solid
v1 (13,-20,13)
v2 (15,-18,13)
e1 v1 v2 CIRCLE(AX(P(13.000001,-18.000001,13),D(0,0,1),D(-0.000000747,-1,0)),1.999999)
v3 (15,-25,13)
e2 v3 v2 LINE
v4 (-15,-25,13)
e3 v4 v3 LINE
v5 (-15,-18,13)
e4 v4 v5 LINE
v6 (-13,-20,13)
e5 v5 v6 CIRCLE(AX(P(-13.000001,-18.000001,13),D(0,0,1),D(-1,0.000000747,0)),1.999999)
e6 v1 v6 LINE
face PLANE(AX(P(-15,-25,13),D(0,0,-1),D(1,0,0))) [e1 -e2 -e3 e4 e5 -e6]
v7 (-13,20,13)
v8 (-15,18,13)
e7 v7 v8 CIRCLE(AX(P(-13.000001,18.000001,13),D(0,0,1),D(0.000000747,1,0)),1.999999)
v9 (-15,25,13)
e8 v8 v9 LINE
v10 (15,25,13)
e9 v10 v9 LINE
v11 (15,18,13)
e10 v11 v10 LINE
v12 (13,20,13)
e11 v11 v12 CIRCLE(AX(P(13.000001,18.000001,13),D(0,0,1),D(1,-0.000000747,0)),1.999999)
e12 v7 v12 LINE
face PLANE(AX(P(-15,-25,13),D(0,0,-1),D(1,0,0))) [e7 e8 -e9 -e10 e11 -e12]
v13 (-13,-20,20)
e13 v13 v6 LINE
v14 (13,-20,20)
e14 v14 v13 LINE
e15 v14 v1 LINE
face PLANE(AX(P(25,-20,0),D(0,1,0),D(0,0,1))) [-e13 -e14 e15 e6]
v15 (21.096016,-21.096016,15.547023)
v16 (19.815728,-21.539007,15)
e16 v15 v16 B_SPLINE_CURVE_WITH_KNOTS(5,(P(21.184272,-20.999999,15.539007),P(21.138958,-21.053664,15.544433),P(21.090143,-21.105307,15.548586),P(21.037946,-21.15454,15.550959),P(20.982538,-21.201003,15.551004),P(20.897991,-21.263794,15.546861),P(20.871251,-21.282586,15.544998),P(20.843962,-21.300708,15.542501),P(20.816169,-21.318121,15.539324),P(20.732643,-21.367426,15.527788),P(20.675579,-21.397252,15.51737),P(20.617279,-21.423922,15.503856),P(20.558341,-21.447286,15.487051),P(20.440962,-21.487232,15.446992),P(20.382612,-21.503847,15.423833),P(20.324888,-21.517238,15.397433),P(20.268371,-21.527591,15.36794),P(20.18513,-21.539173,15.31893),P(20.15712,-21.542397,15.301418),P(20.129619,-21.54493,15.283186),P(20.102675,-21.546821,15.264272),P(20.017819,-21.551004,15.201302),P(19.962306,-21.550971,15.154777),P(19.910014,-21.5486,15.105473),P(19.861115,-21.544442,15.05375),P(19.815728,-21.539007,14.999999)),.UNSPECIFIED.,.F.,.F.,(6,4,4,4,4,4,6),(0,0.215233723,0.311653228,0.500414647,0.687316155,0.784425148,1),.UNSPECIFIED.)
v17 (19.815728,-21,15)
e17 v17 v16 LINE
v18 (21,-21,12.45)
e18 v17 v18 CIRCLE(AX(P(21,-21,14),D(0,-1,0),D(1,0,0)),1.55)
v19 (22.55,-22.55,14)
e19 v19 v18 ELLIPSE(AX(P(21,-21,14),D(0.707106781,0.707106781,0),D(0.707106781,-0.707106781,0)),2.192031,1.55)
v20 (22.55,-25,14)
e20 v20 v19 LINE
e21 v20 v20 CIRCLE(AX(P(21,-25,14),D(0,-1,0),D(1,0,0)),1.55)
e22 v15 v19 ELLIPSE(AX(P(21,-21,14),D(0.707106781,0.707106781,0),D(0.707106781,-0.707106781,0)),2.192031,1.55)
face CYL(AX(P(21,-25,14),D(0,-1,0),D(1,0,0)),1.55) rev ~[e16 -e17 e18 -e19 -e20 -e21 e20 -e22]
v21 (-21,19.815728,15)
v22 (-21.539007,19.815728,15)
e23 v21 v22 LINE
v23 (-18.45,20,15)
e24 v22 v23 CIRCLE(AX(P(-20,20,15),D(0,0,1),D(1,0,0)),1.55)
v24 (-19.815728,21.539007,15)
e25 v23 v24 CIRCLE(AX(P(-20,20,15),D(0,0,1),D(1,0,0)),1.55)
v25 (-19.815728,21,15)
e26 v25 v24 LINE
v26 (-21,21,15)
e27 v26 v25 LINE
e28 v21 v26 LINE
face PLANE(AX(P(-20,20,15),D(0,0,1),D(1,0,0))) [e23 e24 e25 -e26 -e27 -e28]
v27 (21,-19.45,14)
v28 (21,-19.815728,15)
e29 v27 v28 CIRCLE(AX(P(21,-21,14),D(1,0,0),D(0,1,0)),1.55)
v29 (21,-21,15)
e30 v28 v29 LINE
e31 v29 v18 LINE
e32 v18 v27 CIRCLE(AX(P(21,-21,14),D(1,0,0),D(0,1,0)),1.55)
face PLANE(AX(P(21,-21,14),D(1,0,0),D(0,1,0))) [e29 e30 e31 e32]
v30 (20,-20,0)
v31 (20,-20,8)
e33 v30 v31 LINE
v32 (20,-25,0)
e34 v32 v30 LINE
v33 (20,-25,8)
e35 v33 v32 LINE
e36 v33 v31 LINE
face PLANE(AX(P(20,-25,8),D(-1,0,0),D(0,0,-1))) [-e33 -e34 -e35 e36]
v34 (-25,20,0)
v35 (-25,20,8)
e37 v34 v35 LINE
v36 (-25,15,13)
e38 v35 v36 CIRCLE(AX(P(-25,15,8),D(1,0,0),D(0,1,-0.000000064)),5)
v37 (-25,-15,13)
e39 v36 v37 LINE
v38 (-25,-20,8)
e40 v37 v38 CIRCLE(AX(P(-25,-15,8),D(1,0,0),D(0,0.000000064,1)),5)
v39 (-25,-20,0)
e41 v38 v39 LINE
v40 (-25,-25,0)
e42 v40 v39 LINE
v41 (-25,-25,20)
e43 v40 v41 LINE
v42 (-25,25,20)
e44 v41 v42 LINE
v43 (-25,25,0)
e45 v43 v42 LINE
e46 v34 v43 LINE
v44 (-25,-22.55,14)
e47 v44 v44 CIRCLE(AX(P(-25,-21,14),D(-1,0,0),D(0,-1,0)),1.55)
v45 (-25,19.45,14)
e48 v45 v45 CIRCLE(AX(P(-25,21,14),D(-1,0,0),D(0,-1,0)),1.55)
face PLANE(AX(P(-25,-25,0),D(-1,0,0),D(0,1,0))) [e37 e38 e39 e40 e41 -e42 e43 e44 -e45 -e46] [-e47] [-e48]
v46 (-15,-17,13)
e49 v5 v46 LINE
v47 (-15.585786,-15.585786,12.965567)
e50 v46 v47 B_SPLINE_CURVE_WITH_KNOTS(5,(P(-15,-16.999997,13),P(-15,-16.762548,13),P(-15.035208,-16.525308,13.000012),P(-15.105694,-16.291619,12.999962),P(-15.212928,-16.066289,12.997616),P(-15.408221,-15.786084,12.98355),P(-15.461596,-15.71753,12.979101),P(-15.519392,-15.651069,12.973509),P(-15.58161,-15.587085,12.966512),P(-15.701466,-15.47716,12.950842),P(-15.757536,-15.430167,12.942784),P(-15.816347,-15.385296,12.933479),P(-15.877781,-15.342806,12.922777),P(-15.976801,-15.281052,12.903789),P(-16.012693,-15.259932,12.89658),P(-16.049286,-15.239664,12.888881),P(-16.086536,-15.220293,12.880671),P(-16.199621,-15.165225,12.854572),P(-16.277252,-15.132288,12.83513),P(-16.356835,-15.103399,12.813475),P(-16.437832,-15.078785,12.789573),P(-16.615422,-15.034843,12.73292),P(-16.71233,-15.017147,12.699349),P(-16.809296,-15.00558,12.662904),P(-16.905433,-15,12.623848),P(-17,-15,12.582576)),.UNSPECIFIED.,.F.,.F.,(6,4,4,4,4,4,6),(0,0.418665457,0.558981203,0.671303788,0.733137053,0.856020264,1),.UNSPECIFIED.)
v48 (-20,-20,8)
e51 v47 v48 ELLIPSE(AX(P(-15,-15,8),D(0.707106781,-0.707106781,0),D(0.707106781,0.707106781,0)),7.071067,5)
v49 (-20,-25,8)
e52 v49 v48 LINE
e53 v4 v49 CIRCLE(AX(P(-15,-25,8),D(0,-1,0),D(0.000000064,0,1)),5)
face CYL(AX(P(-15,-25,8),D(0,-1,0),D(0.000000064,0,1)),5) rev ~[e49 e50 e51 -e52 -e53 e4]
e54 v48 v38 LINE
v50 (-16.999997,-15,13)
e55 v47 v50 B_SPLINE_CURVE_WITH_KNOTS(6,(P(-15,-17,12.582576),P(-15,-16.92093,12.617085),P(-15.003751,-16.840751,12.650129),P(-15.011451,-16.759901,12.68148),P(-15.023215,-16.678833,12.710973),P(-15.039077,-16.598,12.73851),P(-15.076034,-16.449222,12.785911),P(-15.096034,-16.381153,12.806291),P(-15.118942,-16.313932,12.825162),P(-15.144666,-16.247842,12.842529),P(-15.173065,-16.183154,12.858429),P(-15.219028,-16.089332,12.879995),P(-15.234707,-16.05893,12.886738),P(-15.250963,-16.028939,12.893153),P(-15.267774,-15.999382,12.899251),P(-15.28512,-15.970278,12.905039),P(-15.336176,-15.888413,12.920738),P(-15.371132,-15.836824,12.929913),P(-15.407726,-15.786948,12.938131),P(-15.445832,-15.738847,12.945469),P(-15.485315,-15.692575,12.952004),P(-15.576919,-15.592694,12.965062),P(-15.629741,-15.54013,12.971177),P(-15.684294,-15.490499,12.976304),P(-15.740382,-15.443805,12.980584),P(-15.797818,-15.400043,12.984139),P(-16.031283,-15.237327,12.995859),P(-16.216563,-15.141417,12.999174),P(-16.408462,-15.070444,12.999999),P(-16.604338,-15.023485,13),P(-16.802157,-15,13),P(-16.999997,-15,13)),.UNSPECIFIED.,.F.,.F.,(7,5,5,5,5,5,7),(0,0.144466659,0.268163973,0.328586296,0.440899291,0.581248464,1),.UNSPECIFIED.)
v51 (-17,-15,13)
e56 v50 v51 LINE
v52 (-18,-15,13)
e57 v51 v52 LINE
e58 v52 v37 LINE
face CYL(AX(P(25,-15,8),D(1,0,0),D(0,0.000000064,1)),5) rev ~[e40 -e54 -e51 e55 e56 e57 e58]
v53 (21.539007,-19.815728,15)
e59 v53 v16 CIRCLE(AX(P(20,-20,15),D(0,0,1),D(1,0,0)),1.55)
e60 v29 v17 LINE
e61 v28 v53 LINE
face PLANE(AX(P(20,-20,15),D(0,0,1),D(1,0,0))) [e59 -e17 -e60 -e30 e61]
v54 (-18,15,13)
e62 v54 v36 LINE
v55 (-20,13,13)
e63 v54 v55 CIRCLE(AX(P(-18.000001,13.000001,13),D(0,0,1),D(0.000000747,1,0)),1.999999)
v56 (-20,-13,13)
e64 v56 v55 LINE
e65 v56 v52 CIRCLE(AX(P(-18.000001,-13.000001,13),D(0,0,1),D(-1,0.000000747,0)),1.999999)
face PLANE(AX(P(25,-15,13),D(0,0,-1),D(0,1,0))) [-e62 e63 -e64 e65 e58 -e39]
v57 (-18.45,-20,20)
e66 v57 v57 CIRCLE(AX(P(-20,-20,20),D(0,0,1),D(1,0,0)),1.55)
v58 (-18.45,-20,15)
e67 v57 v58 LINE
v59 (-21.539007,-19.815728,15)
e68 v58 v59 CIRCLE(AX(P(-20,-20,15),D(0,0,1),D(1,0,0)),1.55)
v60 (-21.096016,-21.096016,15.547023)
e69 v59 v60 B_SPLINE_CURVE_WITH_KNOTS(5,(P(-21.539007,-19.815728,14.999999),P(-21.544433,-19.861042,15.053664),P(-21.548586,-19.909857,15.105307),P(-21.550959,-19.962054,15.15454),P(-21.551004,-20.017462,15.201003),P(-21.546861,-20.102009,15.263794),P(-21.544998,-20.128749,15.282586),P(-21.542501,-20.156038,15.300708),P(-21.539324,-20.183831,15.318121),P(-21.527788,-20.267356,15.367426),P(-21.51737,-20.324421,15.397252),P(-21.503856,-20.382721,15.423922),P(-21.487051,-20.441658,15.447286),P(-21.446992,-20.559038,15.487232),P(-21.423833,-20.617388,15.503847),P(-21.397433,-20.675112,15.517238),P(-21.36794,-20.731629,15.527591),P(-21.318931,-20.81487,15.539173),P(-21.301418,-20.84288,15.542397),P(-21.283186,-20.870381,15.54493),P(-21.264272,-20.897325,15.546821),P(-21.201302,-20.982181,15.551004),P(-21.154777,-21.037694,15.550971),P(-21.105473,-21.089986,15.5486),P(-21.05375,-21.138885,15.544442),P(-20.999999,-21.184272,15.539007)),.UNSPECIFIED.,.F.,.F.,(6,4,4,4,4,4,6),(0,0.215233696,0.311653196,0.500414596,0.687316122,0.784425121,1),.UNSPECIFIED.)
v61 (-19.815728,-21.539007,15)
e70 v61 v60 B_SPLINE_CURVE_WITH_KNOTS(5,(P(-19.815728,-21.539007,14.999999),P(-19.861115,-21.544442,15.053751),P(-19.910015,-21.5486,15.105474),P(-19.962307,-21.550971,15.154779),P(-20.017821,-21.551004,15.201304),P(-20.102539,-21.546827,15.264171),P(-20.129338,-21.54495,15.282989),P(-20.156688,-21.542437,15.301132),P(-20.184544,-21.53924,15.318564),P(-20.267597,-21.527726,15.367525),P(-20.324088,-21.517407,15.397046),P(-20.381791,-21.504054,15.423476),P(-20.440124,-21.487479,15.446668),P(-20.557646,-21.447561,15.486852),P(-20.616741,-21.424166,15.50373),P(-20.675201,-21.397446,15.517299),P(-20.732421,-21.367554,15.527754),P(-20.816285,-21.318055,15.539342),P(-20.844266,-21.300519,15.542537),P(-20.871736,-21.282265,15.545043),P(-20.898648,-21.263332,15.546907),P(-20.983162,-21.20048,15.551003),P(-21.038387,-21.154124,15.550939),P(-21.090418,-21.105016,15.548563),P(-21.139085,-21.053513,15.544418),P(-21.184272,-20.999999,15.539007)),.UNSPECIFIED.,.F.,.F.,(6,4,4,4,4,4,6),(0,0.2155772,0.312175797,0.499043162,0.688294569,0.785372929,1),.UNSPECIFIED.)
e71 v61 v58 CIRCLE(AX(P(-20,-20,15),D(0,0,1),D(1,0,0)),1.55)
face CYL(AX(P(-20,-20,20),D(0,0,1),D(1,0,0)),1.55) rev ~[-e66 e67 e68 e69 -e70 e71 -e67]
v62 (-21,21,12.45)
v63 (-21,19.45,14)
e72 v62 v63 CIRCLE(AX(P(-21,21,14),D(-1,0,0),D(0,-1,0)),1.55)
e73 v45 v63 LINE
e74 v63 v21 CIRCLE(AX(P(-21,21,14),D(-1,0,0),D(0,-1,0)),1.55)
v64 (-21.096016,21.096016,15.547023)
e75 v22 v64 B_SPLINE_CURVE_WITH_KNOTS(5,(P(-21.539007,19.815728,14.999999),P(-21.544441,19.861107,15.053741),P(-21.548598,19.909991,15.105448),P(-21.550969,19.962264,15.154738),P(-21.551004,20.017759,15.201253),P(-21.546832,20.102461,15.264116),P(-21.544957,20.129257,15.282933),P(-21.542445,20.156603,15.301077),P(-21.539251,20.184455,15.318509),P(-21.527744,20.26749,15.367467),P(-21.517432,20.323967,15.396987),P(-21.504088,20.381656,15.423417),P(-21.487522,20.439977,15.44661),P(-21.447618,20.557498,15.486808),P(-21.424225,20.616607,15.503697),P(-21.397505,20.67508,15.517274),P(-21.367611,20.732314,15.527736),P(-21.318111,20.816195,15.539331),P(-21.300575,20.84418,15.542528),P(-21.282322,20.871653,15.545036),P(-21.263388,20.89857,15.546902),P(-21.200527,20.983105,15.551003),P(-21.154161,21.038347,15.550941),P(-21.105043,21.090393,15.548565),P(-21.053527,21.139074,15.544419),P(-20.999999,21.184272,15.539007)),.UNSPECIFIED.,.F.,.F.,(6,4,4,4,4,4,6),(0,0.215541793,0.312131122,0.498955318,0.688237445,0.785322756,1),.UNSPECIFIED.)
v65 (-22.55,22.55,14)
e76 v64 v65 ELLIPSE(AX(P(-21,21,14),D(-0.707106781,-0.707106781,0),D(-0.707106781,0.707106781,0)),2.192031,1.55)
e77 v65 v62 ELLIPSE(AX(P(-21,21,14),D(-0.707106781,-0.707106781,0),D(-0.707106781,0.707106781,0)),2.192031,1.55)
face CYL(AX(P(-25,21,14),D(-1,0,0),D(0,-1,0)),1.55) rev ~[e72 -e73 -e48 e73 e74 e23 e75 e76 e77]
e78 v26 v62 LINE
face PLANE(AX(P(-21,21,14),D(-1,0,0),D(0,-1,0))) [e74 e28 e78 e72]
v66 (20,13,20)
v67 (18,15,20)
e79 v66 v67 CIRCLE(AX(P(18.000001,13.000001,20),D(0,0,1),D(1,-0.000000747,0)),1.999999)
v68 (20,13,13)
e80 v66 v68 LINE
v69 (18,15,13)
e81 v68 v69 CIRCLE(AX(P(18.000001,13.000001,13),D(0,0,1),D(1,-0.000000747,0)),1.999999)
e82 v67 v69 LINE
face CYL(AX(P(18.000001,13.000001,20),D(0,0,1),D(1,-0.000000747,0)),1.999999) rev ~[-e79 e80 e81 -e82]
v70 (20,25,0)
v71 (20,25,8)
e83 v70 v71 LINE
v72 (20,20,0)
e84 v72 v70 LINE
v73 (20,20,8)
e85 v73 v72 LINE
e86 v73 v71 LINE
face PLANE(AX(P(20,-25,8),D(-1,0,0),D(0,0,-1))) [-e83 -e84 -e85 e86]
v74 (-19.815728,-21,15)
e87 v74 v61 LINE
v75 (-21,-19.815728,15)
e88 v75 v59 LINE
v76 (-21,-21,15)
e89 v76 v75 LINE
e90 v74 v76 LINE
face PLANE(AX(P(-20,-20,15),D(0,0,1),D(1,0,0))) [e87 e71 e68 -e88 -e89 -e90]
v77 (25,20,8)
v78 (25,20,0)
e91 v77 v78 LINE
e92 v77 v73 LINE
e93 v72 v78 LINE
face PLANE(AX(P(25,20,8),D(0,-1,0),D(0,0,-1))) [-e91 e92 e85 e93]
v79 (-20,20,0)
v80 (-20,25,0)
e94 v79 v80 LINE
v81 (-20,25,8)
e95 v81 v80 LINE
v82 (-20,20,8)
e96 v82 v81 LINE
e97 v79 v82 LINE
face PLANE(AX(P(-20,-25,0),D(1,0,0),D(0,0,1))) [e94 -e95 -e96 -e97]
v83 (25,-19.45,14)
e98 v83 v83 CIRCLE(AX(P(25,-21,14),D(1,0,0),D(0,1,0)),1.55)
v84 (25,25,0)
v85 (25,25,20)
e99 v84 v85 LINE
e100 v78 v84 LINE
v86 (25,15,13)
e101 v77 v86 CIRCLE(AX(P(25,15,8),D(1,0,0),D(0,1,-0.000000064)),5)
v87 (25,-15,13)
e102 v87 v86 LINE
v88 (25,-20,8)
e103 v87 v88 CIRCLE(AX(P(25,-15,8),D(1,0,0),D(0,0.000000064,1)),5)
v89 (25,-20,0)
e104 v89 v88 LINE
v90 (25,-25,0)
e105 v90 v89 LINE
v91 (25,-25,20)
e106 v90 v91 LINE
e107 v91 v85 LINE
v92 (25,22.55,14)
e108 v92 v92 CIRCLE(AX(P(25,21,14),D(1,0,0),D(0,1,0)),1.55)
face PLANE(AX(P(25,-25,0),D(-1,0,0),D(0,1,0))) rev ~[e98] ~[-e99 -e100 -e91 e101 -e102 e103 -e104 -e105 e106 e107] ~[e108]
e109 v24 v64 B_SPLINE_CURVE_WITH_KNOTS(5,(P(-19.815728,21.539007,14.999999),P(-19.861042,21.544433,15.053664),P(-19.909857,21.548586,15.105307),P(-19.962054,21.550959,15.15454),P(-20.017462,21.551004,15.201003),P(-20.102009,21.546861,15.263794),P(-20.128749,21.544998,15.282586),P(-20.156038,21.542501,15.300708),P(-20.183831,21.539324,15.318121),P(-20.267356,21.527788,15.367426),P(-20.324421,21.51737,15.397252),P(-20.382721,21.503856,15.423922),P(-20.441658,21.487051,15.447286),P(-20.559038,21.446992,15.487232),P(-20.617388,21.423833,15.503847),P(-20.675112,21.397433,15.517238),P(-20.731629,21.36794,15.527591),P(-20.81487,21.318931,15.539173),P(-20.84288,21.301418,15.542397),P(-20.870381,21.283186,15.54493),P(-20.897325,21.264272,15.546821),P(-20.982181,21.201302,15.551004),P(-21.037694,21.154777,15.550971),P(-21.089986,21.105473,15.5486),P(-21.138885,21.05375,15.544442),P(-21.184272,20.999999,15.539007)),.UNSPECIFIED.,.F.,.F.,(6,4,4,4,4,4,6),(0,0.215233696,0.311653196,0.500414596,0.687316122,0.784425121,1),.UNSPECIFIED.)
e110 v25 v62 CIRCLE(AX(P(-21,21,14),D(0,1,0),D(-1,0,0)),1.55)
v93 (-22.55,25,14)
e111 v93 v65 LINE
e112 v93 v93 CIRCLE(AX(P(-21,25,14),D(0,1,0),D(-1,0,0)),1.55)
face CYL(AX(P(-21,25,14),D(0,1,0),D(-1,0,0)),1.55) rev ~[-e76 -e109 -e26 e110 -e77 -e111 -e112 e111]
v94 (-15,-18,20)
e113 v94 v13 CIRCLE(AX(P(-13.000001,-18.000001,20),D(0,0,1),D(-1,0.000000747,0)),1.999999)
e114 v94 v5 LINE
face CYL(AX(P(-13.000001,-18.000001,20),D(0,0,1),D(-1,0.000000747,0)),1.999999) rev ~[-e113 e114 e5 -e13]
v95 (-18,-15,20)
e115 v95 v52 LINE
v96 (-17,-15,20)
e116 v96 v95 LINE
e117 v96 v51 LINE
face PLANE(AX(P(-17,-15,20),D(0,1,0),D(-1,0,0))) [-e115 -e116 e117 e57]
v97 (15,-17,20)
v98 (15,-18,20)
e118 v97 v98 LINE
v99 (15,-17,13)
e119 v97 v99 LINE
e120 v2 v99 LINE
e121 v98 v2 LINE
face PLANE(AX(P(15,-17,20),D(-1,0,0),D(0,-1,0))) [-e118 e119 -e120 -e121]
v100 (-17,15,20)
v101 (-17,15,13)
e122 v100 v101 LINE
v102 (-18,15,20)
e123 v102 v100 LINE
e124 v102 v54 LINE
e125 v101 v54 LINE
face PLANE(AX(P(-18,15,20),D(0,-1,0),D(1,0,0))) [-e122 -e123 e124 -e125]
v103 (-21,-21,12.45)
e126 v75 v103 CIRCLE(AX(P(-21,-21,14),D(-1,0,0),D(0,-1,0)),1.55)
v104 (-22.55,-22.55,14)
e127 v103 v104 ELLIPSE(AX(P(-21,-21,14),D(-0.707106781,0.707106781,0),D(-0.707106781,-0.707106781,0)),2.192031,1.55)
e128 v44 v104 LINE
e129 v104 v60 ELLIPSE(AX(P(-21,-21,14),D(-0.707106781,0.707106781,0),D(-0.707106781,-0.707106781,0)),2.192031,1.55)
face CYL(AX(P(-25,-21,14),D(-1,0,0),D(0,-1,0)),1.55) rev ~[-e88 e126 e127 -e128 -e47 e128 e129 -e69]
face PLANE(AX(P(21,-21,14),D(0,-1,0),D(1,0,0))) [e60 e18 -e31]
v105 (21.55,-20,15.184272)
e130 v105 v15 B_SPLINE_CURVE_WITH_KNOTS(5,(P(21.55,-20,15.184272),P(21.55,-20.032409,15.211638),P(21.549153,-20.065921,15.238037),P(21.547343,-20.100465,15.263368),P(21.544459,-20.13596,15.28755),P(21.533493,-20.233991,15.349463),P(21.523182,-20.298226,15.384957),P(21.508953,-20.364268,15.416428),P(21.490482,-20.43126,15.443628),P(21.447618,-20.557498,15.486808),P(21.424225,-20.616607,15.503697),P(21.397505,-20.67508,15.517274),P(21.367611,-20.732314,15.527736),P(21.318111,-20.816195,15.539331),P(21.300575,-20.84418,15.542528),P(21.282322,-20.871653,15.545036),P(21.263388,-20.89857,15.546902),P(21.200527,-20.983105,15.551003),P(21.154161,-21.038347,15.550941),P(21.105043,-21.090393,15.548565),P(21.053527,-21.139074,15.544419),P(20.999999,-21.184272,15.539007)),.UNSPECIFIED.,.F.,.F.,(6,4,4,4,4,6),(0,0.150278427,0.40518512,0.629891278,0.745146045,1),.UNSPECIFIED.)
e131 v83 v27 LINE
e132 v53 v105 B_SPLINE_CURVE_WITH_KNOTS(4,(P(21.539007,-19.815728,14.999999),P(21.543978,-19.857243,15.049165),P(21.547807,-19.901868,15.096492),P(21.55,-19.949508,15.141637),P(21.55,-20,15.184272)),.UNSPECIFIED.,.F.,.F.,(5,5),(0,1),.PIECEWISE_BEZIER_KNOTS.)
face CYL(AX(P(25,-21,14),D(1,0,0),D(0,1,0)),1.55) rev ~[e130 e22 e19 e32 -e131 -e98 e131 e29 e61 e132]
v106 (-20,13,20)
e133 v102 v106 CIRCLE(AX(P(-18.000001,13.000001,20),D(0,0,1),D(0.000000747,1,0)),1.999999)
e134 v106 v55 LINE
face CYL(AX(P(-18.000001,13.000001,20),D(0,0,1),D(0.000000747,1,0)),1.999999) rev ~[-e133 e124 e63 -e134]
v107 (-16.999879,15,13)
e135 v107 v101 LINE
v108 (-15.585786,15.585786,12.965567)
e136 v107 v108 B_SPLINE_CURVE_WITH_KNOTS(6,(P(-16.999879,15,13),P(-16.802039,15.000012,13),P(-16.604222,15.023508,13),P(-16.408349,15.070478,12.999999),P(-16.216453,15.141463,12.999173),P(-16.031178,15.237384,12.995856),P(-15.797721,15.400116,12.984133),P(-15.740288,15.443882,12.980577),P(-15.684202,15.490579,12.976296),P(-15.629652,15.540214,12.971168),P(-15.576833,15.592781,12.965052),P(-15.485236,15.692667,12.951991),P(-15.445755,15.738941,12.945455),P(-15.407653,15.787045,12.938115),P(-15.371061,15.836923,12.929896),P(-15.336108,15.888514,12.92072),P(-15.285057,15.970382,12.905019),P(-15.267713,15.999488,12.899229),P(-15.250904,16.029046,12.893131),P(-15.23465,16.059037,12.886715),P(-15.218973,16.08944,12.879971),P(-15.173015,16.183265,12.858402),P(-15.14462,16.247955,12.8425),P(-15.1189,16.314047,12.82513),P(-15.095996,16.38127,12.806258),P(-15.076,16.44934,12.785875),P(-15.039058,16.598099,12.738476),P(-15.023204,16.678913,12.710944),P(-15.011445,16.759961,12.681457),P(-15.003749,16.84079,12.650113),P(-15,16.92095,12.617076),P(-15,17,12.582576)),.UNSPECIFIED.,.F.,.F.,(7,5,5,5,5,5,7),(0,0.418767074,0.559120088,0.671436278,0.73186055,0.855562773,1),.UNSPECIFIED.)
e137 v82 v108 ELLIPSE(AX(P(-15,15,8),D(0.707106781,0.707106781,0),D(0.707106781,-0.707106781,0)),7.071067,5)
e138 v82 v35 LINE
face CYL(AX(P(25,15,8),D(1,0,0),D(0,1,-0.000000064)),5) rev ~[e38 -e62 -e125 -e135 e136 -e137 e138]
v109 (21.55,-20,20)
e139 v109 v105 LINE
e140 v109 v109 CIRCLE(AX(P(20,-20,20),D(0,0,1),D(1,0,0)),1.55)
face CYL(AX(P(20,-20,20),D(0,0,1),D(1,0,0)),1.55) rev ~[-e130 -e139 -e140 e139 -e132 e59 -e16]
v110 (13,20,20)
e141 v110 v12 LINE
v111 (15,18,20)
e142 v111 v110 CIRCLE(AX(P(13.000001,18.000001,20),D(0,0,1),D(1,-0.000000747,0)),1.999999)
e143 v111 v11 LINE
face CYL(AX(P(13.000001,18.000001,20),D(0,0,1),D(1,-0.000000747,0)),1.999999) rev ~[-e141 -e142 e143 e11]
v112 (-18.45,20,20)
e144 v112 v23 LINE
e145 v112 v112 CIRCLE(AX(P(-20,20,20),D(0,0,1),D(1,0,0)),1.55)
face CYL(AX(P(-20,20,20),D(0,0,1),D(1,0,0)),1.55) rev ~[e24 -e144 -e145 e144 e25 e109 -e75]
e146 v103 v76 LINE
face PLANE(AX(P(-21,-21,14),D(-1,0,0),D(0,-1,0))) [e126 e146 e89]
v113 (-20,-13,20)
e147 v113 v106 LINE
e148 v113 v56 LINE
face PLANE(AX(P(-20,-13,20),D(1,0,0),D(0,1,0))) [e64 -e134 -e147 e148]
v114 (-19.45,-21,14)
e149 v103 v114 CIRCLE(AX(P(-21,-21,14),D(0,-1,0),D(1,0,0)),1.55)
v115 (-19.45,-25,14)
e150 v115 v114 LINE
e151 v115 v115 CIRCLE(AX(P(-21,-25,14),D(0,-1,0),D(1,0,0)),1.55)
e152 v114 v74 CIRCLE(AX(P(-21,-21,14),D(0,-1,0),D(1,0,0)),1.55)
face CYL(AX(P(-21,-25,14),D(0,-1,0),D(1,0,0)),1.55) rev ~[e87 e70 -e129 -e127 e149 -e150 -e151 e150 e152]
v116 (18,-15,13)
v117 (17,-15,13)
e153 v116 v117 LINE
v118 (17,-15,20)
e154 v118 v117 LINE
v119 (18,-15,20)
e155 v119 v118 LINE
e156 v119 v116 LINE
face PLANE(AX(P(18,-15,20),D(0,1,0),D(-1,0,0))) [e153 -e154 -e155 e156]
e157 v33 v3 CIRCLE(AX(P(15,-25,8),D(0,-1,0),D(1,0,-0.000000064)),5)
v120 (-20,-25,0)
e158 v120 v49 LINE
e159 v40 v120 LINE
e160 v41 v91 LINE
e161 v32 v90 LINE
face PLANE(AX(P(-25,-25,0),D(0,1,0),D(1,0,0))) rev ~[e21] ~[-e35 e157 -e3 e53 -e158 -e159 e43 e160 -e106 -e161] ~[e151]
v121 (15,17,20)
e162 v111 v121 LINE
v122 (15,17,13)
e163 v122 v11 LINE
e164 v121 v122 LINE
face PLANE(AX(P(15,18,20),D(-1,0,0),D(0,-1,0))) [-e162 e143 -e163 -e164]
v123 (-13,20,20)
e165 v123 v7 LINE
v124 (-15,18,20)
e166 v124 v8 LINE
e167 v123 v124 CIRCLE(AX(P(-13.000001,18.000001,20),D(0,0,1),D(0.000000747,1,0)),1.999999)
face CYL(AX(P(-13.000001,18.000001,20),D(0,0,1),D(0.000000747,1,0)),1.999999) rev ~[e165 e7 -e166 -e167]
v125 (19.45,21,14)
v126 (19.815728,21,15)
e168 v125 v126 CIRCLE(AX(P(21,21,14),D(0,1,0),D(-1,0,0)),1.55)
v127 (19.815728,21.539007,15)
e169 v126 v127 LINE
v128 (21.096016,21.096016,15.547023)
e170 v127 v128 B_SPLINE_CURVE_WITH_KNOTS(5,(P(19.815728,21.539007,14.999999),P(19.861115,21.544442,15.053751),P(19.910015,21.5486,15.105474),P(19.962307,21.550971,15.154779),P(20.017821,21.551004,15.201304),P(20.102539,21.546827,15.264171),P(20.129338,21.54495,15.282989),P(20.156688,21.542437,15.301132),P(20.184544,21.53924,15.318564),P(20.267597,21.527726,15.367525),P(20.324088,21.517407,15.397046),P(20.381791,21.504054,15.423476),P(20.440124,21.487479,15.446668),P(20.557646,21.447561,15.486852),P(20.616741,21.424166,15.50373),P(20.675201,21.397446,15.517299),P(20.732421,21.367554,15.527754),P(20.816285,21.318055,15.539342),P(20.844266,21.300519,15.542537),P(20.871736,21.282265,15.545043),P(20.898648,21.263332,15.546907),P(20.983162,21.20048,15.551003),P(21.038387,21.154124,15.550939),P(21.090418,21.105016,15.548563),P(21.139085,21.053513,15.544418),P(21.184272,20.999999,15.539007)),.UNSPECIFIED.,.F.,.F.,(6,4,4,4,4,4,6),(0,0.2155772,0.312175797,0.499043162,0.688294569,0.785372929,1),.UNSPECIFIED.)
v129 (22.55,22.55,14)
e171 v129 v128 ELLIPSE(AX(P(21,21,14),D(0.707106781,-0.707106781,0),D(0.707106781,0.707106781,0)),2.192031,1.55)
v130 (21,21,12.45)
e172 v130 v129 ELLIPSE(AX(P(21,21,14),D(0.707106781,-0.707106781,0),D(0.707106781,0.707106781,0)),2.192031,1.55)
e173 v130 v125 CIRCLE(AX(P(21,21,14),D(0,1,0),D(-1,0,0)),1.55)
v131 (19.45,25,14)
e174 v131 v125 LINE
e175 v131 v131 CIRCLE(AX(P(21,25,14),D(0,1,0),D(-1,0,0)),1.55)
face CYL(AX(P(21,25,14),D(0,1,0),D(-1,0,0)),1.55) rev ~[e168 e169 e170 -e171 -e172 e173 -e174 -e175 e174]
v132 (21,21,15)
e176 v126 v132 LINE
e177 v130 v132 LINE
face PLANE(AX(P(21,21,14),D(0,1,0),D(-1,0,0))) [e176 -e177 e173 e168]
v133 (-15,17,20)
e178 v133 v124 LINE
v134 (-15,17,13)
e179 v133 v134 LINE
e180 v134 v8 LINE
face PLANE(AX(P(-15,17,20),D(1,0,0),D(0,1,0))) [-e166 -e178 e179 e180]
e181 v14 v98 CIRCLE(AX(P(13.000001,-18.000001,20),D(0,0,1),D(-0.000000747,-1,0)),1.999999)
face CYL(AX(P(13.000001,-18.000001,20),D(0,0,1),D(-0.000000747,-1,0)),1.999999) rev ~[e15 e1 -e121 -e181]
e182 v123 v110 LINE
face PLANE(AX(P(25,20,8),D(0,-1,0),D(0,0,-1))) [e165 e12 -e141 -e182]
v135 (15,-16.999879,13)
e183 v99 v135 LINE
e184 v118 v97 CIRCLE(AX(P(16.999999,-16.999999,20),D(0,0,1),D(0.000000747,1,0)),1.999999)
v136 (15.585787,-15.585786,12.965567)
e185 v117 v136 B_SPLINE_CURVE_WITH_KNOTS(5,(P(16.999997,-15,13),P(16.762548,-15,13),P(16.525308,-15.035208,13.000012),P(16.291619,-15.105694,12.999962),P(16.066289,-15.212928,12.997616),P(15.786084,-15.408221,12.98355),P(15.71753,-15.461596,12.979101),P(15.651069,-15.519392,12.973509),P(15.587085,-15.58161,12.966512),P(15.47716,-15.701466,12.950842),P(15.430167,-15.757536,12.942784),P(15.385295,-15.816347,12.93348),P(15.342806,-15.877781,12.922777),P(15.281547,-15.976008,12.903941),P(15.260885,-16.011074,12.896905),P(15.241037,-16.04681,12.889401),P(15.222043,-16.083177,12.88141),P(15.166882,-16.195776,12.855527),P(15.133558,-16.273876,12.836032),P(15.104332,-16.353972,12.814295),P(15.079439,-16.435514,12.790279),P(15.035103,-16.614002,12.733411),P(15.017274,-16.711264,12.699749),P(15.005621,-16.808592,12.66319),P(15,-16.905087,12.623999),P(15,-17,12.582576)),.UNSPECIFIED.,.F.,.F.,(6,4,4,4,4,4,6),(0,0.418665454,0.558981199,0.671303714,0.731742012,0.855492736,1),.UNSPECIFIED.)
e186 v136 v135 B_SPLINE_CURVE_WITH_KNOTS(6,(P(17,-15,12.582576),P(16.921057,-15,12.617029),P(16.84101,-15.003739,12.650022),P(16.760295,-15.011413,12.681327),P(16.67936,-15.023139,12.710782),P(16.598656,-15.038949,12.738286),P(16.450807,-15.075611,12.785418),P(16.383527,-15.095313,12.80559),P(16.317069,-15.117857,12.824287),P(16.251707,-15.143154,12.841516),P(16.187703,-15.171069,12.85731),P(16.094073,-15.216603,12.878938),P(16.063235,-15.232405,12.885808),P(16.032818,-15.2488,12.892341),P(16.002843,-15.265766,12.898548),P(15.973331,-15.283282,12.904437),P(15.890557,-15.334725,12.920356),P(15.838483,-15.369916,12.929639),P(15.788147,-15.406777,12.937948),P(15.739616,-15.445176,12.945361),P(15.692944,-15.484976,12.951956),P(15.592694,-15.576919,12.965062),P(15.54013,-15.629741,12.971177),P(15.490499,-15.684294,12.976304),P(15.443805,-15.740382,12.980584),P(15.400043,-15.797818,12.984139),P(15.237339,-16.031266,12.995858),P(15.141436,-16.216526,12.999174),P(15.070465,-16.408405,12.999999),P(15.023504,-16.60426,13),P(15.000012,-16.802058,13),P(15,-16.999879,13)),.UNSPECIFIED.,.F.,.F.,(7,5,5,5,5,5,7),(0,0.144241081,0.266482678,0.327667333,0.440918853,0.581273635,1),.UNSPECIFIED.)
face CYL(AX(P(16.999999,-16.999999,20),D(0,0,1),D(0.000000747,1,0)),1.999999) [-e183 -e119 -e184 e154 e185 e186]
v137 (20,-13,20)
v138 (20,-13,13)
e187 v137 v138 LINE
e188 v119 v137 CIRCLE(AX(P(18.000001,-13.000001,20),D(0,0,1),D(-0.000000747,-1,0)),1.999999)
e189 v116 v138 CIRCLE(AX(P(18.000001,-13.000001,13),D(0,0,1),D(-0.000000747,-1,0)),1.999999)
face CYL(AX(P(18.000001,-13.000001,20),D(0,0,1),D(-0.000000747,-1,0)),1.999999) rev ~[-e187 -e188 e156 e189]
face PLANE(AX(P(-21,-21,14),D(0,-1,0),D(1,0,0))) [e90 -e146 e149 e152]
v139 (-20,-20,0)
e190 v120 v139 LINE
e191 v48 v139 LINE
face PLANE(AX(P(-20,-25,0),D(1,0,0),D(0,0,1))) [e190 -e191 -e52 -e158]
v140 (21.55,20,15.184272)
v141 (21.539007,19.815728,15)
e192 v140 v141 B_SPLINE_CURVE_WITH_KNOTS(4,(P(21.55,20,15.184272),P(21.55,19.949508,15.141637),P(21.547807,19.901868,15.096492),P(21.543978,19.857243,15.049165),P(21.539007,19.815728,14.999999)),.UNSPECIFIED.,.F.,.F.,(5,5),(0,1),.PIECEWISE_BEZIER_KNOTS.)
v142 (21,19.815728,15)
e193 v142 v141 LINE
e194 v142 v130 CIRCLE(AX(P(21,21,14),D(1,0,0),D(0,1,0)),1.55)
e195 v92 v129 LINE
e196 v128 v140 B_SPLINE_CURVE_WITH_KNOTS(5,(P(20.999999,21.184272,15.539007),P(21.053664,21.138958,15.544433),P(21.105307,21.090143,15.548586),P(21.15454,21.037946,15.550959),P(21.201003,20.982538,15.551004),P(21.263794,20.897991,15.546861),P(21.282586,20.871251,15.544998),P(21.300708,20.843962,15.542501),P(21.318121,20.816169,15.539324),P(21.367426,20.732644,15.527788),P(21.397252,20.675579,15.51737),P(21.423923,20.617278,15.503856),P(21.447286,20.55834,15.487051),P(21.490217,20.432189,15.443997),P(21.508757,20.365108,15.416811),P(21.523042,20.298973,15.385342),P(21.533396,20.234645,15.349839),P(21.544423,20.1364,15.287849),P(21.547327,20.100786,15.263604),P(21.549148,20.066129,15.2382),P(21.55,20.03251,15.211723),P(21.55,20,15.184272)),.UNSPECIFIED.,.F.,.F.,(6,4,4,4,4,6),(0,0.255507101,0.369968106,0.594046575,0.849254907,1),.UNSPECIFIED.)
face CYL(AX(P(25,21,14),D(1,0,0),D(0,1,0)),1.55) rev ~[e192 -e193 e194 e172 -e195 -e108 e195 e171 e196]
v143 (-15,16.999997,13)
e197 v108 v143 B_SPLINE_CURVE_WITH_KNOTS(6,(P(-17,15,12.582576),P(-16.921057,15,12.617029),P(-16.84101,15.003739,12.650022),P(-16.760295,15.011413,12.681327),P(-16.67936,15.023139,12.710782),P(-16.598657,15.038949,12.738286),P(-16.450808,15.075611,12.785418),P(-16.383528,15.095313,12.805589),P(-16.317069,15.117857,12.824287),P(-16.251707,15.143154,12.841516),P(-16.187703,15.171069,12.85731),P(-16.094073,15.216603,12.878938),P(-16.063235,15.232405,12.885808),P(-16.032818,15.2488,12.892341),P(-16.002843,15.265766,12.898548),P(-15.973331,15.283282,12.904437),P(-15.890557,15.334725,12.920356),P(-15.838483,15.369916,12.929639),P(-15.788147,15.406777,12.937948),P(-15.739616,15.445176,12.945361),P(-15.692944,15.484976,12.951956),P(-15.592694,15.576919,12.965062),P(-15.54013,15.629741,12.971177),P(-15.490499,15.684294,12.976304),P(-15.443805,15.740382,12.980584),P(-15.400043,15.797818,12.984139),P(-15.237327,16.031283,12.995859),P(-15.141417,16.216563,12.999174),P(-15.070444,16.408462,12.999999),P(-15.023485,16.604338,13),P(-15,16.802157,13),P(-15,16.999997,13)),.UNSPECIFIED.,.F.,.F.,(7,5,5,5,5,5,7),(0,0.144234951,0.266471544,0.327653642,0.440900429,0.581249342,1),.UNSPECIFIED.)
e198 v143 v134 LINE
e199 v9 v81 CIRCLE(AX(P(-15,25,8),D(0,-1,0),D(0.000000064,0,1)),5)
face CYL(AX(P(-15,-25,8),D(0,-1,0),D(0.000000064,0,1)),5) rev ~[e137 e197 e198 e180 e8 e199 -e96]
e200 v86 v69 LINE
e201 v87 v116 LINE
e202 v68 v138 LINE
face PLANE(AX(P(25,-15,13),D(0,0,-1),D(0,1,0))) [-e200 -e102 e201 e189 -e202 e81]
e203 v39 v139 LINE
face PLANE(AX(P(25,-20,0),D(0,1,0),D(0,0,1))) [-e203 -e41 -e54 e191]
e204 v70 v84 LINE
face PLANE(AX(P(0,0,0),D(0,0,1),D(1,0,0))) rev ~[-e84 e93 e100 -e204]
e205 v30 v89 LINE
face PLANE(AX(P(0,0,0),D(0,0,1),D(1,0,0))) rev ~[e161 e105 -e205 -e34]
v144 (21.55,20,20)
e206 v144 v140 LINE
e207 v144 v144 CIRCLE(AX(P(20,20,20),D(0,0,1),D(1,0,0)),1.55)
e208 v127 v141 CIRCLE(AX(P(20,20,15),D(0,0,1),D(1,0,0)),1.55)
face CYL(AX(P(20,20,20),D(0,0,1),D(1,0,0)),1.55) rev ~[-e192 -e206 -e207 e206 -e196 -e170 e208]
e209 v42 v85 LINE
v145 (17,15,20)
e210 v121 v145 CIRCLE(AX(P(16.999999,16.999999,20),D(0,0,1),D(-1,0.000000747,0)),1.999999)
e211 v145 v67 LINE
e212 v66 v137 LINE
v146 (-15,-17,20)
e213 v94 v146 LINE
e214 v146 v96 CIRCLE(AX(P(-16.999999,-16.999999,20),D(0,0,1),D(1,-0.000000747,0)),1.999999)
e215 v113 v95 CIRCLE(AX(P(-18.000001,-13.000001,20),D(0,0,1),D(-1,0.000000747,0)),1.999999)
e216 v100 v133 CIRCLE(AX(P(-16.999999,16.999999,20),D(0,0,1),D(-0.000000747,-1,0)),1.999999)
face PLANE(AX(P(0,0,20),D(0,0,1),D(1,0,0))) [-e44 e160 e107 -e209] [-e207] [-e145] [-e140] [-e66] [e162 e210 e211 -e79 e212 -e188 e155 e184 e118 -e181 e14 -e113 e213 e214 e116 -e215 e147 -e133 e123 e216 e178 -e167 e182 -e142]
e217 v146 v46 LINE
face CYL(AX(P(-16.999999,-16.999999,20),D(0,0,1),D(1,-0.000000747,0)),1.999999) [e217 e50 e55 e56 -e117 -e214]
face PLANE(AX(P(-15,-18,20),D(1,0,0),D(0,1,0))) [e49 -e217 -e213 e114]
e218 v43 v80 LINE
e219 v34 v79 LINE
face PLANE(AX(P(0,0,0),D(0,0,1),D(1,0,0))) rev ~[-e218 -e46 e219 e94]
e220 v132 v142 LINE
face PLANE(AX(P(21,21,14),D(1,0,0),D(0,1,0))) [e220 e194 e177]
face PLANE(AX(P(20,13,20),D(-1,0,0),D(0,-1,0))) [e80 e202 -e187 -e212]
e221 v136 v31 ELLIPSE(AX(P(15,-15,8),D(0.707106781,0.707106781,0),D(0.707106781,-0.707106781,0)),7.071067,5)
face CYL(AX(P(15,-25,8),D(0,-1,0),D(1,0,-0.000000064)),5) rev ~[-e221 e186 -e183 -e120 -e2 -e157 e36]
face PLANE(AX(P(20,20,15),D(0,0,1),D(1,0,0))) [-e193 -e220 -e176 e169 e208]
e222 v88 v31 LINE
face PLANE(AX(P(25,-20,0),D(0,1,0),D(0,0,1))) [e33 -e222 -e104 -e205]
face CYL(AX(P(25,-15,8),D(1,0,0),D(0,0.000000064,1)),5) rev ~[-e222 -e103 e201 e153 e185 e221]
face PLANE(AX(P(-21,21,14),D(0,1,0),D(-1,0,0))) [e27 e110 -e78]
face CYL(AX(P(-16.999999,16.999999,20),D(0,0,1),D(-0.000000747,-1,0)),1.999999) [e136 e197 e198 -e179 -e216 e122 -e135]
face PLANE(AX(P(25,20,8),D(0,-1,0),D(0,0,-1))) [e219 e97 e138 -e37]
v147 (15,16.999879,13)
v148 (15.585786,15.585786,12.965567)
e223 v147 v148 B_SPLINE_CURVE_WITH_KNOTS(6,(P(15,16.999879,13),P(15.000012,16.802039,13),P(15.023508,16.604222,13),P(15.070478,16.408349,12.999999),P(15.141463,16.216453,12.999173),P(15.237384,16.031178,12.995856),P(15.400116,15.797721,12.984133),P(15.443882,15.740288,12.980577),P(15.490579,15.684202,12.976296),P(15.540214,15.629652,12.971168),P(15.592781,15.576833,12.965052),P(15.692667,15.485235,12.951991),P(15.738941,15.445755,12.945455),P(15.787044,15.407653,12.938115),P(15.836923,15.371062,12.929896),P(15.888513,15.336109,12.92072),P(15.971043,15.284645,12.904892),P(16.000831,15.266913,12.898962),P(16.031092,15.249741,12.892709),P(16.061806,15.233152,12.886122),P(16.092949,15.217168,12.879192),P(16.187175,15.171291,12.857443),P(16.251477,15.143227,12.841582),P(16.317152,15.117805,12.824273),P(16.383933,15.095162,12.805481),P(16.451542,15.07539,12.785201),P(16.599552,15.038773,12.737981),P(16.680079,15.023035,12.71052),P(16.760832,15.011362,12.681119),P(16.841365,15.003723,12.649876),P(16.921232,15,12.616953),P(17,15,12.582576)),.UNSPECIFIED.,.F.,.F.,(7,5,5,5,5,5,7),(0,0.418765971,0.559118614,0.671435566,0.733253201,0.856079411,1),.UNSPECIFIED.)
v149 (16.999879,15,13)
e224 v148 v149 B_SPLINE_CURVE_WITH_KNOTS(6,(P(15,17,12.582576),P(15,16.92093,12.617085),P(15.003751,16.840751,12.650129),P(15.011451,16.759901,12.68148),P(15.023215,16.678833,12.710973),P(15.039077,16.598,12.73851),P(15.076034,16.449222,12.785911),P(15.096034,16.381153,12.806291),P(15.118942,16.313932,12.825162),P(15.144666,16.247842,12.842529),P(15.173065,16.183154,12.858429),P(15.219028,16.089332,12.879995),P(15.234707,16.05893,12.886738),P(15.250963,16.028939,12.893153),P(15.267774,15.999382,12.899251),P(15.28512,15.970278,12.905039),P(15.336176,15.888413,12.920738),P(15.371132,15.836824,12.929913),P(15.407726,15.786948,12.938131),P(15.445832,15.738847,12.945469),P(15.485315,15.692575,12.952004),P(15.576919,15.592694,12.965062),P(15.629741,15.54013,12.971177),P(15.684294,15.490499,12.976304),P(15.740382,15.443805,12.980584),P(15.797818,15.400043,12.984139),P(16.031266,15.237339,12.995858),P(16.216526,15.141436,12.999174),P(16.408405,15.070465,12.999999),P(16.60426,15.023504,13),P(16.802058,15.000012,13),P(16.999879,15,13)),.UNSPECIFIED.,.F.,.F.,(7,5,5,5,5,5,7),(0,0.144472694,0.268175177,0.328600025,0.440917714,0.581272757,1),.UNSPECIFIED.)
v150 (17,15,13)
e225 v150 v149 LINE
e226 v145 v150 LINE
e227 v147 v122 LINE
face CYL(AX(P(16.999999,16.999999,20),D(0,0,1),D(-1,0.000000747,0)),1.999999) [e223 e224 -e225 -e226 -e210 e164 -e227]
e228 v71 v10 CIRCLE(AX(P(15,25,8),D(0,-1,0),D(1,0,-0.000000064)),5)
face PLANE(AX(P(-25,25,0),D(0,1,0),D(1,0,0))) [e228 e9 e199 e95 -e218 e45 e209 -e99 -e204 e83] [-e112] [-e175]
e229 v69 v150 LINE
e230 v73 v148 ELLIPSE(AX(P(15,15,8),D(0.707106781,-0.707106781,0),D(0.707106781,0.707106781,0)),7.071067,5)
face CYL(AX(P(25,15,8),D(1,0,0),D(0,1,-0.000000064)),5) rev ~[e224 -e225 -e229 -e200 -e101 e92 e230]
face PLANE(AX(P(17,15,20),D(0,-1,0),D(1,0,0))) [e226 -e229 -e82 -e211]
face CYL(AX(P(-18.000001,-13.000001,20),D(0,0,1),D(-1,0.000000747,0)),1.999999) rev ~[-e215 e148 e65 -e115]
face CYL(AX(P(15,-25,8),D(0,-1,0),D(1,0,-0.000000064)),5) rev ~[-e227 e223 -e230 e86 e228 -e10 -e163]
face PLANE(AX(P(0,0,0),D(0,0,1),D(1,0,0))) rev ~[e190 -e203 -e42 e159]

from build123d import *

# Parameters (mm, degrees)
SKETCH_W        = 50
SKETCH_H        = 50
PAD_DEPTH       = 20
POCKET_DEPTH    = 20.001
POCKET001_DEPTH = 50.001
POCKET002_DEPTH = 50.001
SKETCH004_R     = 1.55
POCKET003_DEPTH = 4
SKETCH006_R     = 1.55
POCKET005_DEPTH = 4
SKETCH007_R     = 1.55
POCKET006_DEPTH = 4
SKETCH008_R     = 1.55
POCKET007_DEPTH = 4
SKETCH009_R     = 1.55
POCKET008_DEPTH = 5


with BuildPart() as part:
    # Sketch → Pad (new body)
    with BuildSketch(Plane.XY):
        Rectangle(SKETCH_W, SKETCH_H)
    extrude(amount=PAD_DEPTH)

    # Sketch001 (on Face6 of Pad) → Pocket (cut, through all)
    with BuildSketch(Plane.XY.offset(20)):
        with BuildLine():
            Line((-18, 15), (-17, 15))
            ThreePointArc((-17, 15), (-15.585786, 15.585786), (-15, 17))
            Line((-15, 17), (-15, 18))
            ThreePointArc((-13, 20), (-14.414214, 19.414214), (-15, 18))
            Line((-13, 20), (13, 20))
            ThreePointArc((15, 18), (14.414214, 19.414214), (13, 20))
            Line((15, 18), (15, 17))
            ThreePointArc((15, 17), (15.585786, 15.585786), (17, 15))
            Line((17, 15), (18, 15))
            ThreePointArc((20, 13), (19.414214, 14.414214), (18, 15))
            Line((20, 13), (20, -13))
            ThreePointArc((18, -15), (19.414214, -14.414214), (20, -13))
            Line((18, -15), (17, -15))
            ThreePointArc((17, -15), (15.585786, -15.585786), (15, -17))
            Line((15, -17), (15, -18))
            ThreePointArc((13, -20), (14.414214, -19.414214), (15, -18))
            Line((13, -20), (-13, -20))
            ThreePointArc((-15, -18), (-14.414214, -19.414214), (-13, -20))
            Line((-15, -18), (-15, -17))
            ThreePointArc((-15, -17), (-15.585786, -15.585786), (-17, -15))
            Line((-17, -15), (-18, -15))
            ThreePointArc((-20, -13), (-19.414214, -14.414214), (-18, -15))
            Line((-20, -13), (-20, 13))
            ThreePointArc((-18, 15), (-19.414214, 14.414214), (-20, 13))
        make_face()
    extrude(amount=-POCKET_DEPTH, mode=Mode.SUBTRACT)

    # Sketch002 (on Face3 of Pocket) → Pocket001 (cut, through all)
    with BuildSketch(Plane.YZ.offset(25)):
        with BuildLine():
            Line((-15, 13), (15, 13))
            ThreePointArc((20, 8), (18.535534, 11.535534), (15, 13))
            Line((20, 8), (20, 0))
            Line((20, 0), (-20, 0))
            Line((-20, 0), (-20, 8))
            ThreePointArc((-15, 13), (-18.535534, 11.535534), (-20, 8))
        make_face()
    extrude(amount=-POCKET001_DEPTH, mode=Mode.SUBTRACT)

    # Sketch003 (on Face6 of Pocket) → Pocket002 (cut, through all)
    with BuildSketch(Plane.XZ.offset(25)):
        with BuildLine():
            Line((-15, 13), (15, 13))
            ThreePointArc((20, 8), (18.535534, 11.535534), (15, 13))
            Line((20, 8), (20, 0))
            Line((20, 0), (-20, 0))
            Line((-20, 0), (-20, 8))
            ThreePointArc((-15, 13), (-18.535534, 11.535534), (-20, 8))
        make_face()
    extrude(amount=-POCKET002_DEPTH, mode=Mode.SUBTRACT)

    # Sketch004 (on Face11 of Pocket002) → Pocket003 (cut)
    with BuildSketch(Plane(origin=(-25, 0, 0), x_dir=(0, -1, 0), z_dir=(-1, 0, 0))):
        with Locations((-21, 14)):
            Circle(SKETCH004_R)
        with Locations((21, 14)):
            Circle(SKETCH004_R)
    extrude(amount=-POCKET003_DEPTH, mode=Mode.SUBTRACT)

    # Sketch006 → Pocket005 (cut)
    with BuildSketch(Plane.YZ.offset(25)):
        with Locations((-21, 14)):
            Circle(SKETCH006_R)
        with Locations((21, 14)):
            Circle(SKETCH006_R)
    extrude(amount=-POCKET005_DEPTH, mode=Mode.SUBTRACT)

    # Sketch007 (on Face1 of Pocket005) → Pocket006 (cut)
    with BuildSketch(Plane(origin=(0, 25, 0), x_dir=(-1, 0, 0), z_dir=(0, 1, 0))):
        with Locations((-21, 14)):
            Circle(SKETCH007_R)
        with Locations((21, 14)):
            Circle(SKETCH007_R)
    extrude(amount=-POCKET006_DEPTH, mode=Mode.SUBTRACT)

    # Sketch008 (on Face16 of Pocket006) → Pocket007 (cut)
    with BuildSketch(Plane.XZ.offset(25)):
        with Locations((-21, 14)):
            Circle(SKETCH008_R)
        with Locations((21, 14)):
            Circle(SKETCH008_R)
    extrude(amount=-POCKET007_DEPTH, mode=Mode.SUBTRACT)

    # Sketch009 (on Face5 of Pocket007) → Pocket008 (cut)
    with BuildSketch(Plane.XY.offset(20)):
        with Locations((-20, 20)):
            Circle(SKETCH009_R)
        with Locations((20, 20)):
            Circle(SKETCH009_R)
        with Locations((20, -20)):
            Circle(SKETCH009_R)
        with Locations((-20, -20)):
            Circle(SKETCH009_R)
    extrude(amount=-POCKET008_DEPTH, mode=Mode.SUBTRACT)


solid = part.part
